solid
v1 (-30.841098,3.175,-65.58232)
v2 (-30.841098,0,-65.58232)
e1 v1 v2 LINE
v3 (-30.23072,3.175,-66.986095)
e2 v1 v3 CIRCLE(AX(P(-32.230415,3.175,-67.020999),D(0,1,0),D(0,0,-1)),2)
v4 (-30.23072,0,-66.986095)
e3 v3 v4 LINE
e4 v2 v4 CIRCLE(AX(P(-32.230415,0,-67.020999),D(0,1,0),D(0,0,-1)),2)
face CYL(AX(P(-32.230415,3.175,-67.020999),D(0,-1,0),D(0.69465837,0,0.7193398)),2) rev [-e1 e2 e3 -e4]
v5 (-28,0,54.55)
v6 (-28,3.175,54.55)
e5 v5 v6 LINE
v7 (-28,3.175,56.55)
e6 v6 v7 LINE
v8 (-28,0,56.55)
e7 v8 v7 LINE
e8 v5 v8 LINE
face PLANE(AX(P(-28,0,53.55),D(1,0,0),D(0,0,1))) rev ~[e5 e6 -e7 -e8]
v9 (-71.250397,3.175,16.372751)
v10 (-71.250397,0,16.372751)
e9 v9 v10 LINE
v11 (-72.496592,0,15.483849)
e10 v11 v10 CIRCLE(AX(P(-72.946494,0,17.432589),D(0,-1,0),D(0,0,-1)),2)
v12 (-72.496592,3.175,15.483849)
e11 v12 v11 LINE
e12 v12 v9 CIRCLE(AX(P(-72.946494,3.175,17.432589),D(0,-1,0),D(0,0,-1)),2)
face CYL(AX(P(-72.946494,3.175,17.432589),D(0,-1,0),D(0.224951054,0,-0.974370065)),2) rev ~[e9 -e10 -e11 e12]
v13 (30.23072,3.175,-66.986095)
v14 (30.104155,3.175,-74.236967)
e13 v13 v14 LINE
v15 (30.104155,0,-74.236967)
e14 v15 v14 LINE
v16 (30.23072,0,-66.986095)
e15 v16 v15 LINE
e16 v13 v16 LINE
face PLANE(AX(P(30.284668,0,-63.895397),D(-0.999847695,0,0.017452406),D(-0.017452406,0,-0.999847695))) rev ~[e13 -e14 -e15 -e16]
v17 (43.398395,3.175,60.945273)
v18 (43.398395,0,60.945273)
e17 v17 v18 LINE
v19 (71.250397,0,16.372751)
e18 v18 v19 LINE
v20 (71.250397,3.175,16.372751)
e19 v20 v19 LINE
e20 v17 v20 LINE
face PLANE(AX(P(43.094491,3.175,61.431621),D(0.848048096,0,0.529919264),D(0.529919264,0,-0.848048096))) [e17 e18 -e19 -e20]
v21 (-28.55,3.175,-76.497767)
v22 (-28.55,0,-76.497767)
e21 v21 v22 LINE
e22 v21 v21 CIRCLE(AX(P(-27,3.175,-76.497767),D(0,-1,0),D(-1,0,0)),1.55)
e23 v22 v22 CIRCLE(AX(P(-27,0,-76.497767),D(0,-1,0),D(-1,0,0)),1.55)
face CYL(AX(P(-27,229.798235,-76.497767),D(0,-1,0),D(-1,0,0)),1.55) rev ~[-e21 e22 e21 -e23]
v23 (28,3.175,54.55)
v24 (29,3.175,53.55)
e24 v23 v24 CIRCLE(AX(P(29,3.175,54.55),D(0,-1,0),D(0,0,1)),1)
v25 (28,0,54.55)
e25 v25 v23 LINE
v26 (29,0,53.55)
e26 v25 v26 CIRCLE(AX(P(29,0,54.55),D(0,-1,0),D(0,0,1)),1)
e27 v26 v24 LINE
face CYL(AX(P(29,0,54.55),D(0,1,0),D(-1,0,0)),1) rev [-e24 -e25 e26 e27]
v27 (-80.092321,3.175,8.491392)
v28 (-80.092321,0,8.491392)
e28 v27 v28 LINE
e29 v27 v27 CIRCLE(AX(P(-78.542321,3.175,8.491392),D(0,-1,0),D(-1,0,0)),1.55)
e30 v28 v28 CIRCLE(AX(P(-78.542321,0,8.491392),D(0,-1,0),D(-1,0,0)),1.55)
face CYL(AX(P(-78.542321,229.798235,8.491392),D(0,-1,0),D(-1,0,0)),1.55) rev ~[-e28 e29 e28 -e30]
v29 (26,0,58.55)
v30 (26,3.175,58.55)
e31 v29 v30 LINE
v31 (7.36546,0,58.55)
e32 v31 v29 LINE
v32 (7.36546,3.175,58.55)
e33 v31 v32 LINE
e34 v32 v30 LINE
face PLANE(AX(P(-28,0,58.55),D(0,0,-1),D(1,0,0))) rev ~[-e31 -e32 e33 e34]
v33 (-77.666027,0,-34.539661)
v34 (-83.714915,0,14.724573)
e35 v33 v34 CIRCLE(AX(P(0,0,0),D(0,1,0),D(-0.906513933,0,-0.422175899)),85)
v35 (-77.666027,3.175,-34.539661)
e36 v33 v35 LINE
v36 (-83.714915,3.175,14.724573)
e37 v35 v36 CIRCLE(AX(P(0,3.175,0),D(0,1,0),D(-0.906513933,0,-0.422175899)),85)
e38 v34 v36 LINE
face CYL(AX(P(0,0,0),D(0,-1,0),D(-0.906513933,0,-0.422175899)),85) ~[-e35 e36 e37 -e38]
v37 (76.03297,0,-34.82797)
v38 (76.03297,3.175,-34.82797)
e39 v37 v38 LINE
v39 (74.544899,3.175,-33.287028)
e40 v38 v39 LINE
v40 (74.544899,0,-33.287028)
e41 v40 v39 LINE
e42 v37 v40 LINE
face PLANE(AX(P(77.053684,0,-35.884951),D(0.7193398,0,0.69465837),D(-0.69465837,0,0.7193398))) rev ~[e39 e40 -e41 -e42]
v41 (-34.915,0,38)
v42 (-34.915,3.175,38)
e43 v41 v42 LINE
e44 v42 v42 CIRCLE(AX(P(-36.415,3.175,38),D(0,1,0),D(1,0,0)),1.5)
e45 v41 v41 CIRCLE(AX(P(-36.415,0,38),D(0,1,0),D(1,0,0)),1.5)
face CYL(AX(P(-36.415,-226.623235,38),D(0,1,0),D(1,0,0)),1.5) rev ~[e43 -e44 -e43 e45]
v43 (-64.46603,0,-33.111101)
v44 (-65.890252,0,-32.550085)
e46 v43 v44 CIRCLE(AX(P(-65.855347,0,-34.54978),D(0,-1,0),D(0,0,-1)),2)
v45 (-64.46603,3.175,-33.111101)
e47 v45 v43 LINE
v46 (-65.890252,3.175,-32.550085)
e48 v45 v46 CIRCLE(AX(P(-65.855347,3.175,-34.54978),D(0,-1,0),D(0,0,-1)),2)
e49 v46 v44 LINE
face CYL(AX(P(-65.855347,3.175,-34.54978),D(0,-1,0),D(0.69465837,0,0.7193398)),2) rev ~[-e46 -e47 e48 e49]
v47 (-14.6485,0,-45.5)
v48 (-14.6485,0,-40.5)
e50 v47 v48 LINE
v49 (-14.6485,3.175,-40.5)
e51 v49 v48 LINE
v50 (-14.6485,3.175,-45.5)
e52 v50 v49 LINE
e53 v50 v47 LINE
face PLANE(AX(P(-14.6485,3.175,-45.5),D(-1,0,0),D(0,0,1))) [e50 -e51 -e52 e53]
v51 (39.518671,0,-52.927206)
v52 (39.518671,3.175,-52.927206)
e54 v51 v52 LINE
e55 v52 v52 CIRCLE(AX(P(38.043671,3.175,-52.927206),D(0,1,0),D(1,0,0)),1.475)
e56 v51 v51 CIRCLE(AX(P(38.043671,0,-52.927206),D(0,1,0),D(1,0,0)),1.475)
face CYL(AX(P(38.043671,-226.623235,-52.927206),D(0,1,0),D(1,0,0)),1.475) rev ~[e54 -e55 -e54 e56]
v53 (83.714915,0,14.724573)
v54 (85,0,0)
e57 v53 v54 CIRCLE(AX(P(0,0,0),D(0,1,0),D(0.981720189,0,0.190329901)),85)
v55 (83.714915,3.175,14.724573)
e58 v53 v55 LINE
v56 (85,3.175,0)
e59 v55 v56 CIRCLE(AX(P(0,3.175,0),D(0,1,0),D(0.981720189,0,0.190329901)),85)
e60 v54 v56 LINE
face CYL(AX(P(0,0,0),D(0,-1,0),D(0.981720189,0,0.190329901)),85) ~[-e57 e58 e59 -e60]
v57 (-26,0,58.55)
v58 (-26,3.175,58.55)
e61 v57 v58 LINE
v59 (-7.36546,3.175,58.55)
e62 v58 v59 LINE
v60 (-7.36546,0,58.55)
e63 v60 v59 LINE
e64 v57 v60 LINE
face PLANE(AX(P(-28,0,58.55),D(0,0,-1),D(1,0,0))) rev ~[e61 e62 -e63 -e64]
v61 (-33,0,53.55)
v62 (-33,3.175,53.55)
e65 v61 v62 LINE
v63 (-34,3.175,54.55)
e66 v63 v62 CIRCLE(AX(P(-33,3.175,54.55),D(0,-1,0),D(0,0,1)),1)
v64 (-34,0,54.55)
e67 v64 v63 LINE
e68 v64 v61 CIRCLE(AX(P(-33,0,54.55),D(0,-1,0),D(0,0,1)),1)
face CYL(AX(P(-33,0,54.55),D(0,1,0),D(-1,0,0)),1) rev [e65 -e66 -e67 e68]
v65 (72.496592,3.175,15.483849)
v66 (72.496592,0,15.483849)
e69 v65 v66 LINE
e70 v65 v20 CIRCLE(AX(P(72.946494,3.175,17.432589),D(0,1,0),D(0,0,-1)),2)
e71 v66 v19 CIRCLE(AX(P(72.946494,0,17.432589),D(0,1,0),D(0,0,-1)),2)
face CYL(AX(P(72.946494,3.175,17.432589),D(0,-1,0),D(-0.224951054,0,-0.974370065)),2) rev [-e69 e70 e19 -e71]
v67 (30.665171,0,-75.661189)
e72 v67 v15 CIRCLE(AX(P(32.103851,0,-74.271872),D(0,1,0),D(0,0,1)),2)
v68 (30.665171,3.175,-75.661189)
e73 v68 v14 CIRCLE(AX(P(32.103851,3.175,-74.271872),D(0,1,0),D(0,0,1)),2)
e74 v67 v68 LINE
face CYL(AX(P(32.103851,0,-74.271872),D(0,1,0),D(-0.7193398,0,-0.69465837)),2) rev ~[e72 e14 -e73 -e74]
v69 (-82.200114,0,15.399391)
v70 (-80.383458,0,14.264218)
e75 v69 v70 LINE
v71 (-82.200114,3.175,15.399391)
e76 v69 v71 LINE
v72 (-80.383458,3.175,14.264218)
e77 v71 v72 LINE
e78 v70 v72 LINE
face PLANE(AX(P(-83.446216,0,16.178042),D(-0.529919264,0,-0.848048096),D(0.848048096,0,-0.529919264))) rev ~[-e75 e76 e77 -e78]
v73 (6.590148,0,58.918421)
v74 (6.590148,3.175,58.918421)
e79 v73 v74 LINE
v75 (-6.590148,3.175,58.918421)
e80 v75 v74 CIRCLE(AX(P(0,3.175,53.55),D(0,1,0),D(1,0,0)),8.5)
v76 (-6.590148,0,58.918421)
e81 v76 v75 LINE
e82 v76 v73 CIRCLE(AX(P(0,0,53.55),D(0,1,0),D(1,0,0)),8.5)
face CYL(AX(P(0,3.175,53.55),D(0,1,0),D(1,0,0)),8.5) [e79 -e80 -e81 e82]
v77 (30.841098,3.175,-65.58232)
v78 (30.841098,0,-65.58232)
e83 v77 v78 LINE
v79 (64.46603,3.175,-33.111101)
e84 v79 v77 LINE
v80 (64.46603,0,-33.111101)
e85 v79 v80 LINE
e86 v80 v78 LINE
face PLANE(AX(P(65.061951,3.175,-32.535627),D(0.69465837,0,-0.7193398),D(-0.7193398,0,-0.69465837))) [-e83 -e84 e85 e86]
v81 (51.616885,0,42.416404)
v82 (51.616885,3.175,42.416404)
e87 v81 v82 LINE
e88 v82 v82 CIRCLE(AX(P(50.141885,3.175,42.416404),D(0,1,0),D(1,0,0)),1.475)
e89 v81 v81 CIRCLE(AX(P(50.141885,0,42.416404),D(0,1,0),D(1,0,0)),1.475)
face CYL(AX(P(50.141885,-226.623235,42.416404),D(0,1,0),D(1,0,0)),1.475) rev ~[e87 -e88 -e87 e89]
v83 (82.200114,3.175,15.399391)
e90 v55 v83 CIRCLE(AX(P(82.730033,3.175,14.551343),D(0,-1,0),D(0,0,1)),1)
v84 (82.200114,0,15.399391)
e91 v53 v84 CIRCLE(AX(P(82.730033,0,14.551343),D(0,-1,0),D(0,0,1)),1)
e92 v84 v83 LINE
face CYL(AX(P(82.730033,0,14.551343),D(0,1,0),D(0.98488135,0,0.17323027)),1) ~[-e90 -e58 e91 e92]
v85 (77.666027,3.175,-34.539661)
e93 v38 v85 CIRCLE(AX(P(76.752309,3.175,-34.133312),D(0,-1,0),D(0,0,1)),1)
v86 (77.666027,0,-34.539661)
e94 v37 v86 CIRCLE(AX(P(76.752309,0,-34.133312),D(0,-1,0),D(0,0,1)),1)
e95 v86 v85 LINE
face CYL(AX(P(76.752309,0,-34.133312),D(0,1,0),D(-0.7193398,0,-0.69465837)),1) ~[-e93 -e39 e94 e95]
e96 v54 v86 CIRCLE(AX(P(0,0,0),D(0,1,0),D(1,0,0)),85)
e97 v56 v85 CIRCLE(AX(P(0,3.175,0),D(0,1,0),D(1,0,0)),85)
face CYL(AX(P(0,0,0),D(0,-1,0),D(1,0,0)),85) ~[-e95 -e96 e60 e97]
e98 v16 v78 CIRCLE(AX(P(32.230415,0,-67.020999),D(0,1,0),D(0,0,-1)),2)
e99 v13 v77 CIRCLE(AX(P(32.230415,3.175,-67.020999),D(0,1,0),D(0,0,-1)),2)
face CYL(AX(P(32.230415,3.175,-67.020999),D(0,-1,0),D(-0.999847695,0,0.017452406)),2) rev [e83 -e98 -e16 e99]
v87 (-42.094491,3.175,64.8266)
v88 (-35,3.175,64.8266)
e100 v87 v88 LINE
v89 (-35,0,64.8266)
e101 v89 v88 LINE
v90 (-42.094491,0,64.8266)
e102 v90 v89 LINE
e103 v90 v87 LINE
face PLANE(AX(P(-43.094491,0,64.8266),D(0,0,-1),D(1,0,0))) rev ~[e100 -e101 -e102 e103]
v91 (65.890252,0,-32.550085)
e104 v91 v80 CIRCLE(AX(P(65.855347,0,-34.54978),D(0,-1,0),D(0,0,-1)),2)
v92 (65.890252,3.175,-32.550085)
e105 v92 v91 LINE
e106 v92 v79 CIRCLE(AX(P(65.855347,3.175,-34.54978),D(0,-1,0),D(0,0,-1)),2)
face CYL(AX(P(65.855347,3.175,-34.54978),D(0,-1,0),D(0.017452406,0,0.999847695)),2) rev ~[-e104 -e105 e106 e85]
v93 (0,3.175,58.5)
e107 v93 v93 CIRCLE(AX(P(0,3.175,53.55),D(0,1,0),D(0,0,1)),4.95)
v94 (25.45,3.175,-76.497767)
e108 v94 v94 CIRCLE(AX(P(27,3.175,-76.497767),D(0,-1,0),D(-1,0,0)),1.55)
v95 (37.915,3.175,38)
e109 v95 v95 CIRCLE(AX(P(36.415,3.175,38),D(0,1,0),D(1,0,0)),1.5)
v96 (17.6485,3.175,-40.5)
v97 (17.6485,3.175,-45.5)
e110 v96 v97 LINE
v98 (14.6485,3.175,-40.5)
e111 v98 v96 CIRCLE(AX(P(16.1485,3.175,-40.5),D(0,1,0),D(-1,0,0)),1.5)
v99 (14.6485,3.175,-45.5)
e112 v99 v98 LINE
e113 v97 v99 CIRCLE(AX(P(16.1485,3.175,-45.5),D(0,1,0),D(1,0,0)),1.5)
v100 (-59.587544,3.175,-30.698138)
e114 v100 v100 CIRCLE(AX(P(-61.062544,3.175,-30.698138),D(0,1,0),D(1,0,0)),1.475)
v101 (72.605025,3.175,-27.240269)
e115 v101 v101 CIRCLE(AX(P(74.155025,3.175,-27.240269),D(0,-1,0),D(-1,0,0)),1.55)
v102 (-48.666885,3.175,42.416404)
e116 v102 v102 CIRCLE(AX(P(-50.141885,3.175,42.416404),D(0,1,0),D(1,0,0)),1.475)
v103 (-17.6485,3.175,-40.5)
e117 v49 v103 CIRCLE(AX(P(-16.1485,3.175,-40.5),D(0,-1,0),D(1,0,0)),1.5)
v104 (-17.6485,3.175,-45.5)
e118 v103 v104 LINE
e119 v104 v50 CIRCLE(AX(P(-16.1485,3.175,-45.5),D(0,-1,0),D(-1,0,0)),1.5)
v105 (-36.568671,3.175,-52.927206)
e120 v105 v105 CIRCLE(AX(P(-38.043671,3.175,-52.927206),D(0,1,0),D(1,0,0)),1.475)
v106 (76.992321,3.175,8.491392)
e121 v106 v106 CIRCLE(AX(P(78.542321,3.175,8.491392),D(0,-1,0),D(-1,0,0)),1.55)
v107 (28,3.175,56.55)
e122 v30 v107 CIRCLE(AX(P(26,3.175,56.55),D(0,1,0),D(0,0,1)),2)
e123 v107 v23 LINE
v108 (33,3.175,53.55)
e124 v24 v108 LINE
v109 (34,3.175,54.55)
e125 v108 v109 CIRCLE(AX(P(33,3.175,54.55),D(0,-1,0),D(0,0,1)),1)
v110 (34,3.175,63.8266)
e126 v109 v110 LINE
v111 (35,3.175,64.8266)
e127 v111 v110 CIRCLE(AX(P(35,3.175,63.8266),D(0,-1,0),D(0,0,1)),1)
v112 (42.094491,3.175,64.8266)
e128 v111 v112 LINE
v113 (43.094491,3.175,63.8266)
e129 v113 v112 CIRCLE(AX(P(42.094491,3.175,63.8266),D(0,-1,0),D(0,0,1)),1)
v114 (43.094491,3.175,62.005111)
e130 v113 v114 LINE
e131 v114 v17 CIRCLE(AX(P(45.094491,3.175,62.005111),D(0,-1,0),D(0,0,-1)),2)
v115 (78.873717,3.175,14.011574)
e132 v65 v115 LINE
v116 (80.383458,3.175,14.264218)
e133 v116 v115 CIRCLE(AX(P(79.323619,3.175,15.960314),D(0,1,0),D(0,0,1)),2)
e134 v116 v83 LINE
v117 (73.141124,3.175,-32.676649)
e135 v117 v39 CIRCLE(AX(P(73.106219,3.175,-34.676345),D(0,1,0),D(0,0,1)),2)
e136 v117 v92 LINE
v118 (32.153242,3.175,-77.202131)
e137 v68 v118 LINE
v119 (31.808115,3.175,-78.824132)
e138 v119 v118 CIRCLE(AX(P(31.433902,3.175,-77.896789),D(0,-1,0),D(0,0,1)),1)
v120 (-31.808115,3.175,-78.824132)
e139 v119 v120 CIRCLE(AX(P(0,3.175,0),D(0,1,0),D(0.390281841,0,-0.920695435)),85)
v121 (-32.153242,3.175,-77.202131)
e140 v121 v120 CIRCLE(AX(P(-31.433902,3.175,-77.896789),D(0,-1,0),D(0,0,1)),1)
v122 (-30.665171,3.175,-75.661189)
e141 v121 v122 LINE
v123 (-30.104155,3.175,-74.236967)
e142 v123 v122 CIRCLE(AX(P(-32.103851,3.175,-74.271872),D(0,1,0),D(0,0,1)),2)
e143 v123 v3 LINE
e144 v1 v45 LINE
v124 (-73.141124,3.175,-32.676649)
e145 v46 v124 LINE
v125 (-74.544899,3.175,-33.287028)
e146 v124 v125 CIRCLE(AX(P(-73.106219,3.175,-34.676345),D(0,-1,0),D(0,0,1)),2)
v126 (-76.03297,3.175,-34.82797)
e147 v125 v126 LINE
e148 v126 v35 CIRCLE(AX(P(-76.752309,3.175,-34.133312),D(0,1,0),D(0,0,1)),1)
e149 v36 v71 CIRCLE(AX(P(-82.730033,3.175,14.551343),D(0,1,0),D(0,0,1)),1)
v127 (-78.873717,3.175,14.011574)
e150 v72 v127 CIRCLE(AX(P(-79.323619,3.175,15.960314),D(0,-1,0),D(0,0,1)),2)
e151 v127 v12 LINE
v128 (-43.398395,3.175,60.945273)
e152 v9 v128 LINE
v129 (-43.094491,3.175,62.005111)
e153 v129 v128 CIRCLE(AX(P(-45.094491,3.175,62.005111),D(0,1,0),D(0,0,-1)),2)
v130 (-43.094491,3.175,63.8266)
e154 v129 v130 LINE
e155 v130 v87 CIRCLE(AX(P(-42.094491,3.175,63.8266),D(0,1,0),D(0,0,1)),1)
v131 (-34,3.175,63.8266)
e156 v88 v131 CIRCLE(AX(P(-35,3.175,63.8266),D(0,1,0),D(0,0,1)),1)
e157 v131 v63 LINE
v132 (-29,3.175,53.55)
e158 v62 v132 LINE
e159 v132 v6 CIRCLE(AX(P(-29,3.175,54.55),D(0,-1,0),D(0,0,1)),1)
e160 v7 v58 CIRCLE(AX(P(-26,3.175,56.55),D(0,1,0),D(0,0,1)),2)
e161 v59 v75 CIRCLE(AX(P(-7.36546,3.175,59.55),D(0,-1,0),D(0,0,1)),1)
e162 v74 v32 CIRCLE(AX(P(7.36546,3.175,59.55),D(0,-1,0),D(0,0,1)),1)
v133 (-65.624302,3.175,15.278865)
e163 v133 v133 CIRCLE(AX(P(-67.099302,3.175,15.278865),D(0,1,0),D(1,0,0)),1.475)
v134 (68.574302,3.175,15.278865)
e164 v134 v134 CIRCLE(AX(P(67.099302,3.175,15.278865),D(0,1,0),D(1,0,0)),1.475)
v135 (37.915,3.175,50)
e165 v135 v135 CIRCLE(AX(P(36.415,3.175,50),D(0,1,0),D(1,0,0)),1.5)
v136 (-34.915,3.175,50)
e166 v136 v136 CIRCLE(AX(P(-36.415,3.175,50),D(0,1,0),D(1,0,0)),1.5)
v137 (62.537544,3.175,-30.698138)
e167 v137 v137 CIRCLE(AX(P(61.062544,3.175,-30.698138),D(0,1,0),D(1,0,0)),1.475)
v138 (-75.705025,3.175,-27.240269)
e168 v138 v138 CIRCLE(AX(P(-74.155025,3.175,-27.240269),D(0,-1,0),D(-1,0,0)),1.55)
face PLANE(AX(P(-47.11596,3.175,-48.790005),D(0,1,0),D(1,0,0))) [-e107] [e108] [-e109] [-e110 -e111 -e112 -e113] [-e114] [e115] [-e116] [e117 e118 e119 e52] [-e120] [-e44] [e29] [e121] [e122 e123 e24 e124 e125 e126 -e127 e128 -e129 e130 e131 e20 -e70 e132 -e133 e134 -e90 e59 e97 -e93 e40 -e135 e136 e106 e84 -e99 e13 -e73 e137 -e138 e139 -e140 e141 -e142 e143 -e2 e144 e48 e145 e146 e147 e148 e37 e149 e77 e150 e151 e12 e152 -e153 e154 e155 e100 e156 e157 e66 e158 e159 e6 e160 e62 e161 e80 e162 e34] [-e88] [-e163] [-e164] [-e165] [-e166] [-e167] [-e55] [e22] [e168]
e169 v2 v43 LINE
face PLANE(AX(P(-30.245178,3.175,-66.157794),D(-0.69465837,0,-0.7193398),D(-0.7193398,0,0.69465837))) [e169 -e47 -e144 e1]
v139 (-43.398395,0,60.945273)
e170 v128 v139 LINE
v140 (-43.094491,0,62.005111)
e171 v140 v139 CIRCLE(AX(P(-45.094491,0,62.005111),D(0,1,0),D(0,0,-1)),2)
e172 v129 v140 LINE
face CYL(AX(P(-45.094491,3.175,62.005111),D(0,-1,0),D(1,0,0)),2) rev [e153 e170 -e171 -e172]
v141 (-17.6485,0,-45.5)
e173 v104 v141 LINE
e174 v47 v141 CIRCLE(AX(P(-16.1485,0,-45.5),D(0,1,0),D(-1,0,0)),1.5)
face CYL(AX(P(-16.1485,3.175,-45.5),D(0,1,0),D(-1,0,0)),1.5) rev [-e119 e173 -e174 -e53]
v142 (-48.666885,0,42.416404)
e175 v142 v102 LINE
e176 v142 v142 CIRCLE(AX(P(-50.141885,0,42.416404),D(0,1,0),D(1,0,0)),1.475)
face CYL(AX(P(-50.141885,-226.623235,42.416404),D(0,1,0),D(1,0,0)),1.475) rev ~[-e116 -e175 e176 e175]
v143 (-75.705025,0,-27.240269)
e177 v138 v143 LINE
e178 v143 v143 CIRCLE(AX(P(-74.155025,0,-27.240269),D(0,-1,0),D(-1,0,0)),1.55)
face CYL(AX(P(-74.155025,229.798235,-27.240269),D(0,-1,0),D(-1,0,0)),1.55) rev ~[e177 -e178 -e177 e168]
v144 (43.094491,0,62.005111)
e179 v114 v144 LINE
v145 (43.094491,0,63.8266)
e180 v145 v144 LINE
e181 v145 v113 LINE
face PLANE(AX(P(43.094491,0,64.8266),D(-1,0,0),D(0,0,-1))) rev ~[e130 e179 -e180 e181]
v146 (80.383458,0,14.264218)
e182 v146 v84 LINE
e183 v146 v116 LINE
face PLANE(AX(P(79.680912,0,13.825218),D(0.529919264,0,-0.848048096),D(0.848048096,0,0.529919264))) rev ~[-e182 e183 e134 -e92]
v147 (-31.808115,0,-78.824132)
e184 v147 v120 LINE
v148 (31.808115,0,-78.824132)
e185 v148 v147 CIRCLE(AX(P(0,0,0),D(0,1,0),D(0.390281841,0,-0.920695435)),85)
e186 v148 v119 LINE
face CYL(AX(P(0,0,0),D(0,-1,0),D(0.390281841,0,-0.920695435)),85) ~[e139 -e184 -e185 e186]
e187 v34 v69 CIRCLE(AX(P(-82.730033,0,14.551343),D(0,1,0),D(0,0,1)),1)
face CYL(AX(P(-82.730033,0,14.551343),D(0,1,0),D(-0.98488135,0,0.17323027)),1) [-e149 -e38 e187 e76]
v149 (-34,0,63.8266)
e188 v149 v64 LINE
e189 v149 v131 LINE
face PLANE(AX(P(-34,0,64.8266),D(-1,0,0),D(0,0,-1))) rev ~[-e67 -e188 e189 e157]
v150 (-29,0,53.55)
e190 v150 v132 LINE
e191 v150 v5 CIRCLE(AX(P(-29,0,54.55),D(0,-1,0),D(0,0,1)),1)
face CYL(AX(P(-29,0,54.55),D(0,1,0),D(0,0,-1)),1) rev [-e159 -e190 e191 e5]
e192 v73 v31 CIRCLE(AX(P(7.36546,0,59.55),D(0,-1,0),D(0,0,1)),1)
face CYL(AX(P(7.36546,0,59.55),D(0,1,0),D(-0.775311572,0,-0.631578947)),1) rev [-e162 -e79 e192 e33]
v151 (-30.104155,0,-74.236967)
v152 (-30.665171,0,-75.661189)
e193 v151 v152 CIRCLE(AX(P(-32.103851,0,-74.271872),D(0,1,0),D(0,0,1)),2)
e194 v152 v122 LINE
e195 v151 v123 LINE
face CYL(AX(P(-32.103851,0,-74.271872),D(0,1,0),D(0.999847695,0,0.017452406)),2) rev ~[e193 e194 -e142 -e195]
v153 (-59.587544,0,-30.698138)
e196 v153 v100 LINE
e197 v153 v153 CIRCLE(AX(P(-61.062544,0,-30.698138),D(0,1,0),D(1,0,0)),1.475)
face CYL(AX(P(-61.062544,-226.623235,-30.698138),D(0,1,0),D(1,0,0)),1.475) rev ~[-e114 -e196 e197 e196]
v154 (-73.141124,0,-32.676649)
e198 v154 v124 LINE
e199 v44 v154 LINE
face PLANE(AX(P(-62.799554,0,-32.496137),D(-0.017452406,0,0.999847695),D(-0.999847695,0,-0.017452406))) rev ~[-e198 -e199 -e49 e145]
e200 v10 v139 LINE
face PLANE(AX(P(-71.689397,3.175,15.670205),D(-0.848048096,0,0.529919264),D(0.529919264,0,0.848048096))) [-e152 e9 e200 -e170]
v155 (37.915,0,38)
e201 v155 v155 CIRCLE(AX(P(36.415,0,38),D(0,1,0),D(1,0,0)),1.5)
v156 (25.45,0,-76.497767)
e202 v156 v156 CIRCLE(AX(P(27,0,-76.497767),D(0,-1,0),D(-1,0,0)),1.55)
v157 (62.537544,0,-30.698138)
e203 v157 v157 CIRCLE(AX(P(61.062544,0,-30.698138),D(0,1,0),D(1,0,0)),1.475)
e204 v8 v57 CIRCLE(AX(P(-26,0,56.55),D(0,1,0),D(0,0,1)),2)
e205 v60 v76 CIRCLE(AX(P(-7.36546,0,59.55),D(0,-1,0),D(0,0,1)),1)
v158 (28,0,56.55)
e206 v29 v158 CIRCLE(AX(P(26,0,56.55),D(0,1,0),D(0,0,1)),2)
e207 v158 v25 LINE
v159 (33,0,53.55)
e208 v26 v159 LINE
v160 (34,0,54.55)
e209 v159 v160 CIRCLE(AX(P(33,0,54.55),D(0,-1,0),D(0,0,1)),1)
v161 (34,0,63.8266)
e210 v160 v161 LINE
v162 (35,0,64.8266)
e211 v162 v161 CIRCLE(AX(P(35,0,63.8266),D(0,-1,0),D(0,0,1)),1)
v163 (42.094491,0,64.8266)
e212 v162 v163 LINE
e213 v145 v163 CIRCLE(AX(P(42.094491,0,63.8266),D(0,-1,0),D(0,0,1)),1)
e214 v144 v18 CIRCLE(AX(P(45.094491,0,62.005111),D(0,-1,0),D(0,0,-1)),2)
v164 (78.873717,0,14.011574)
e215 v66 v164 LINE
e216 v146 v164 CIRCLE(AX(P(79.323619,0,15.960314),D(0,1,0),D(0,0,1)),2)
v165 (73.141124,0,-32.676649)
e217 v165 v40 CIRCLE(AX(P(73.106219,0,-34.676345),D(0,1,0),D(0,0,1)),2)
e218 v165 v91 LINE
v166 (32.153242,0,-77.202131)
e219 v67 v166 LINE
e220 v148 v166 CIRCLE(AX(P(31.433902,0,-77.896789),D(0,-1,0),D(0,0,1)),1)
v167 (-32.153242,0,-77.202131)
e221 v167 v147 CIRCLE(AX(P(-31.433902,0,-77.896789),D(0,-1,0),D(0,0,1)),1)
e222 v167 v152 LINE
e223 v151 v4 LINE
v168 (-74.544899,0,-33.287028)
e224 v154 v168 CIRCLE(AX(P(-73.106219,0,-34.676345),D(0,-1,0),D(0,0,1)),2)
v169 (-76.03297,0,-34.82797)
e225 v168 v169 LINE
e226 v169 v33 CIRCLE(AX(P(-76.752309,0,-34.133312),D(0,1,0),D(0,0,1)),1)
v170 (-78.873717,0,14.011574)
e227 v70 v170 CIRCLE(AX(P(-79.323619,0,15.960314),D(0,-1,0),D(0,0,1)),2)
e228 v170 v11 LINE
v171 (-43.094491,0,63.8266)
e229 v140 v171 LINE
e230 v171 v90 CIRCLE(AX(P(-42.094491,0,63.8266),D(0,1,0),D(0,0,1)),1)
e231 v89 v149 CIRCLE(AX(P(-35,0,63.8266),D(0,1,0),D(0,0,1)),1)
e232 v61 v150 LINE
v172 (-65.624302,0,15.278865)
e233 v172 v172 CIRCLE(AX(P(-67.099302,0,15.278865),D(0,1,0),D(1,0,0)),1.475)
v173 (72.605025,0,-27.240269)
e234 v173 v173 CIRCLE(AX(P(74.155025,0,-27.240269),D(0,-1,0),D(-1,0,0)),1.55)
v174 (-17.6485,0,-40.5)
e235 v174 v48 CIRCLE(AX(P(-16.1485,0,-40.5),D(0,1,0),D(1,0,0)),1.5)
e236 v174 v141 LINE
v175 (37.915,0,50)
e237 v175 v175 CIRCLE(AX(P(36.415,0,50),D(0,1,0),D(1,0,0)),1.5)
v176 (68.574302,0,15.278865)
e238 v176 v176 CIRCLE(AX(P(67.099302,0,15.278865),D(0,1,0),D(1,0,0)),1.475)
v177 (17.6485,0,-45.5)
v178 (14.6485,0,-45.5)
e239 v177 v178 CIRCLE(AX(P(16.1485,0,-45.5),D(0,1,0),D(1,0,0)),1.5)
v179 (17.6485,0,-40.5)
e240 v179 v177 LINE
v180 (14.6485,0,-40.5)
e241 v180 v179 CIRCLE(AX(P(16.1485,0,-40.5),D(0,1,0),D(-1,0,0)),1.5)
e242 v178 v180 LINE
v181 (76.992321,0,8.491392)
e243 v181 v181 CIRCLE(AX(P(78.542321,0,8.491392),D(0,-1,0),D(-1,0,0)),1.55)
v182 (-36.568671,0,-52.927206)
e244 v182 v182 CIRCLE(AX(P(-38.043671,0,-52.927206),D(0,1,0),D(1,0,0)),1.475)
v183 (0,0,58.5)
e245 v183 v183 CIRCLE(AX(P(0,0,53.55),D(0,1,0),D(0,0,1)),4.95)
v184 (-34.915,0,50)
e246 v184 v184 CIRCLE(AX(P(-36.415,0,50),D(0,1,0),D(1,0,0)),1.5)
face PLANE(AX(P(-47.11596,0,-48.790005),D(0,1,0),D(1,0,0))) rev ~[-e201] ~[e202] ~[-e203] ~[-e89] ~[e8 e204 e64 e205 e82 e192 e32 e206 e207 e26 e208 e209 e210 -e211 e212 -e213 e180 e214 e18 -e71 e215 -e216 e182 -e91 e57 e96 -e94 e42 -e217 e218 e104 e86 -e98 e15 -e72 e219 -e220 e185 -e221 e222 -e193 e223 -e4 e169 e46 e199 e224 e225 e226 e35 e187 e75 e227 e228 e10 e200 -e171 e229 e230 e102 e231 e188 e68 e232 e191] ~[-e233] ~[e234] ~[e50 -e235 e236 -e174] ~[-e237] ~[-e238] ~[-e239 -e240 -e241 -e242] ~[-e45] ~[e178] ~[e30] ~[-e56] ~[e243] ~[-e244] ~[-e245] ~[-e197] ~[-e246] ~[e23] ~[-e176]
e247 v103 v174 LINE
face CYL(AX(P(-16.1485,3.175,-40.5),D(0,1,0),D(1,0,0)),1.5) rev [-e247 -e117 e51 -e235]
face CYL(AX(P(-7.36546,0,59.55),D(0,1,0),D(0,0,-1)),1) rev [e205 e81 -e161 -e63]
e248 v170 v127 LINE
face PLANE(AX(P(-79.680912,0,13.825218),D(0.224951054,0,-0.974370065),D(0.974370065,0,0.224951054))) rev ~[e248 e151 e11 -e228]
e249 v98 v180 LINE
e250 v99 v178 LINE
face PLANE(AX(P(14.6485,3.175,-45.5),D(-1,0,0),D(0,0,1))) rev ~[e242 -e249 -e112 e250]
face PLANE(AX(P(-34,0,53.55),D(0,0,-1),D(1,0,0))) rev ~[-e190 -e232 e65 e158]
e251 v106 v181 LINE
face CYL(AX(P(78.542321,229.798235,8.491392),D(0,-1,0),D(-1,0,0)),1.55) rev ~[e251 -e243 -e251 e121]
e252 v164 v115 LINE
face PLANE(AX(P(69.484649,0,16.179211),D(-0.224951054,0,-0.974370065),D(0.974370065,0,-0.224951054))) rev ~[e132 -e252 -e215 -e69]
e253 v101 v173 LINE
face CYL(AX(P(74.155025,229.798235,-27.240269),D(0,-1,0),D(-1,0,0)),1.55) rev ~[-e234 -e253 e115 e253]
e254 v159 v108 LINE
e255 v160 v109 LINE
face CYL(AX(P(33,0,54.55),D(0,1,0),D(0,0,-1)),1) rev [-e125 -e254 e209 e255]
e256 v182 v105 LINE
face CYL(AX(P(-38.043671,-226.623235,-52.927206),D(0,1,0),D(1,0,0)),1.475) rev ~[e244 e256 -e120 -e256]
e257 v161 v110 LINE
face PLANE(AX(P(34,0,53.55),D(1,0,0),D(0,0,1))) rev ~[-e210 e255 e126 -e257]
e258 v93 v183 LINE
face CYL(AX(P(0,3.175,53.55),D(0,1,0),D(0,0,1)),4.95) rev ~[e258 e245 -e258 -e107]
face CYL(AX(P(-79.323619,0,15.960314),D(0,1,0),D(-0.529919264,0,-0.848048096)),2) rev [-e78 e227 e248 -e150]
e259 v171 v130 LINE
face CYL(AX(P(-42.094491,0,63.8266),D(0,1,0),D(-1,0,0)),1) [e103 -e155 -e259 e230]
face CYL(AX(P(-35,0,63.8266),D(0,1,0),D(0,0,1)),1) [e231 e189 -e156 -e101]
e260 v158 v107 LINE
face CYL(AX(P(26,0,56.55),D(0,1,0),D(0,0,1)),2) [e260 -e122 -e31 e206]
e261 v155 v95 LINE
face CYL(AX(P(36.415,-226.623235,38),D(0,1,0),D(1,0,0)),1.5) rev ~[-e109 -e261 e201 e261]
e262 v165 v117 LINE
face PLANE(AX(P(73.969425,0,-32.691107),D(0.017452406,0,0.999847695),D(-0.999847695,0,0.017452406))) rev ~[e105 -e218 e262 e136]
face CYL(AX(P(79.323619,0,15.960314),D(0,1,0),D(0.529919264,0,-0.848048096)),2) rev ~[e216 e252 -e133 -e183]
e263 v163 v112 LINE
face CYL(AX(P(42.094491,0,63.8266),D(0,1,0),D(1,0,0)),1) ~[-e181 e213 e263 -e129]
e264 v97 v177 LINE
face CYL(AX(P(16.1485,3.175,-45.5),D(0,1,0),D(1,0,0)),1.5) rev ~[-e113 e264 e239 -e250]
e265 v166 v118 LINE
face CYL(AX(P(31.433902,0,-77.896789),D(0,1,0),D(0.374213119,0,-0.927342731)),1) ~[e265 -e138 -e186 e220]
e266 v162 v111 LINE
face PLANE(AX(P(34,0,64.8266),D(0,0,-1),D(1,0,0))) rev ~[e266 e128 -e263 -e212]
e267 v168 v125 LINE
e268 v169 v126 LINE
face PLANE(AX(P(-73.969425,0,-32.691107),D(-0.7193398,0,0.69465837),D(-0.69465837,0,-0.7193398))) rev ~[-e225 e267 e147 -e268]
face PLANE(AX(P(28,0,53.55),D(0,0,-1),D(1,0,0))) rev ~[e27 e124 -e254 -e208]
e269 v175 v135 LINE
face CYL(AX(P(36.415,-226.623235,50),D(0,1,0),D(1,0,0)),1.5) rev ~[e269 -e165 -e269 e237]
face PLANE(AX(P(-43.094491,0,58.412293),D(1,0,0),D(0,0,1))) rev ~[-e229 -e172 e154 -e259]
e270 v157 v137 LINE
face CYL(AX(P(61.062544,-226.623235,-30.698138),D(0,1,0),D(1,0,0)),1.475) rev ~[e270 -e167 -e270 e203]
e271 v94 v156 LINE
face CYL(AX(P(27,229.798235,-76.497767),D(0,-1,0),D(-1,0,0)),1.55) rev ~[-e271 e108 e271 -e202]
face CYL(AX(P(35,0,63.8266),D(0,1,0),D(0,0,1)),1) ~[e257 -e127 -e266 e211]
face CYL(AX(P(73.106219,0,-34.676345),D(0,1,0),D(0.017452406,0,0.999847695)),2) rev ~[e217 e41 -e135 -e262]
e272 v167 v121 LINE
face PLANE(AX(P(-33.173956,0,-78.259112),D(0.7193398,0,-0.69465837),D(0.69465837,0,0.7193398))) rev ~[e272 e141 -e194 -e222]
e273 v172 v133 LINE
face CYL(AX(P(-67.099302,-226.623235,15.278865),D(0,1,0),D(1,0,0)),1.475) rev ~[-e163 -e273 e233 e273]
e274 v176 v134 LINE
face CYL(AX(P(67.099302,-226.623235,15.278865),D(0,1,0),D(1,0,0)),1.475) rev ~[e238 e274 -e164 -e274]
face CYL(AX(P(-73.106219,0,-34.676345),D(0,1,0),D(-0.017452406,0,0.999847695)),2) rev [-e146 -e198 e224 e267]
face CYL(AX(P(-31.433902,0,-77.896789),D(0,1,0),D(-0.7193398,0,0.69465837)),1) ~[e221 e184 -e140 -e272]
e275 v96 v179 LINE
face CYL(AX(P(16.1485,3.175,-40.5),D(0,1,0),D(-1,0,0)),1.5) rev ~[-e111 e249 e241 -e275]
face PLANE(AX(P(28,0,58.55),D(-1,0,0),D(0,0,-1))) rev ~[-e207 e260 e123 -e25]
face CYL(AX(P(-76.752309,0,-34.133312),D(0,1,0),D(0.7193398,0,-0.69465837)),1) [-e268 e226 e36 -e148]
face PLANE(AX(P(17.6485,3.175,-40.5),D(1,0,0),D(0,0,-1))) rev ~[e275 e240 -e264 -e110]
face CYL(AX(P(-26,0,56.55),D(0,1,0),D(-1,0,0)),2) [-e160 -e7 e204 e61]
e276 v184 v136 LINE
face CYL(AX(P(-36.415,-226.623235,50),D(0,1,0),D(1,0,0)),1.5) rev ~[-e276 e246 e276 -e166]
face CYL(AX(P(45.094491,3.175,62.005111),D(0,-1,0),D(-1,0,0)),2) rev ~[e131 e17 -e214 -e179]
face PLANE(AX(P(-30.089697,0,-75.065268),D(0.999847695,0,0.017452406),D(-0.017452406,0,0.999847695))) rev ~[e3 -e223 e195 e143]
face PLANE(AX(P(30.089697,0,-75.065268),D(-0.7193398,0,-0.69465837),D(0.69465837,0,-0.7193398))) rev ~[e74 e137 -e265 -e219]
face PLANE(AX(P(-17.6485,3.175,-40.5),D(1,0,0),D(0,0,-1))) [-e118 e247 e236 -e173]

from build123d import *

# Parameters (mm, degrees)
BOSS_EXTRUDE4_DEPTH  = 3.175
SKETCH17_R           = 8.5
BOSS_EXTRUDE5_DEPTH  = 3.175
M3_CLEARANCE_HOLE3_D = 3
M3_CLEARANCE_HOLE1_D = 3.1
M3_CLEARANCE_HOLE4_D = 2.95
M3_CLEARANCE_HOLE2_D = 3.1
CUT_EXTRUDE1_DEPTH   = 121.250075364
BOSS_EXTRUDE6_DEPTH  = 3.175
FILLET1_R            = 2
FILLET3_R            = 1
SKETCH23_R           = 4.95
CUT_EXTRUDE2_DEPTH   = 121.250075364


with BuildPart() as part:
    # Sketch1 → Boss-Extrude4 (new body)
    with BuildSketch(Plane(origin=(0, 0, 0), x_dir=(1, 0, 0), z_dir=(0, 1, 0))):
        with BuildLine():
            Line((-62.799553621, 32.496136604), (-73.969425011, 32.691107434))
            Line((-73.969425011, 32.691107434), (-77.053684287, 35.88495141))
            ThreePointArc((-77.053684287, 35.88495141), (-84.36642289, 10.358894189), (-83.446216027, -16.178041625))
            Line((-83.446216027, -16.178041625), (-79.680911643, -13.825218315))
            Line((-79.680911643, -13.825218315), (-69.484649137, -16.179210996))
            Line((-69.484649137, -16.179210996), (-43.094490772, -58.412292655))
            Line((-43.094490772, -58.412292655), (-43.094490772, -64.826600275))
            Line((-43.094490772, -64.826600275), (-34, -64.826600275))
            Line((-34, -64.826600275), (-34, -58.55))
            Line((-34, -58.55), (-34, -53.55))
            Line((-34, -53.55), (-28, -53.55))
            Line((-28, -53.55), (-28, -58.55))
            Line((-28, -58.55), (28, -58.55))
            Line((28, -58.55), (28, -53.55))
            Line((28, -53.55), (34, -53.55))
            Line((34, -53.55), (34, -58.55))
            Line((34, -58.55), (34, -64.826600275))
            Line((34, -64.826600275), (43.094490772, -64.826600275))
            Line((43.094490772, -64.826600275), (43.094490772, -58.412292655))
            Line((43.094490772, -58.412292655), (69.484649137, -16.179210996))
            Line((69.484649137, -16.179210996), (79.680911643, -13.825218315))
            Line((79.680911643, -13.825218315), (83.446216027, -16.178041625))
            ThreePointArc((83.446216027, -16.178041625), (84.610662337, -8.126242604), (85, 0))
            ThreePointArc((85, 0), (82.98964744, 18.377116688), (77.053684287, 35.88495141))
            Line((77.053684287, 35.88495141), (73.969425011, 32.691107434))
            Line((73.969425011, 32.691107434), (62.799553621, 32.496136604))
            Line((62.799553621, 32.496136604), (30.284668021, 63.895396642))
            Line((30.284668021, 63.895396642), (30.089697191, 75.065268032))
            Line((30.089697191, 75.065268032), (33.173956467, 78.259112008))
            ThreePointArc((33.173956467, 78.259112008), (0, 85), (-33.173956467, 78.259112008))
            Line((-33.173956467, 78.259112008), (-30.089697191, 75.065268032))
            Line((-30.089697191, 75.065268032), (-30.284668021, 63.895396642))
            Line((-30.284668021, 63.895396642), (-62.799553621, 32.496136604))
        make_face()
    extrude(amount=BOSS_EXTRUDE4_DEPTH)

    # Sketch17 → Boss-Extrude5 (add)
    with BuildSketch(Plane(origin=(0, 3.175, 0), x_dir=(1, 0, 0), z_dir=(0, 1, 0))):
        with Locations((0, -53.55)):
            Circle(SKETCH17_R)
    extrude(amount=-BOSS_EXTRUDE5_DEPTH)

    # M3 Clearance Hole3 (through all)
    with Locations(Plane(origin=(0, 0, 0), x_dir=(-1, 0, 0), z_dir=(0, -1, 0))):
        with Locations((36.415, -50), (36.415, -38), (-36.415, -50), (-36.415, -38)):
            Hole(M3_CLEARANCE_HOLE3_D / 2)

    # M3 Clearance Hole1 (through all)
    with Locations(Plane(origin=(0, 3.175, 0), x_dir=(1, 0, 0), z_dir=(0, 1, 0))):
        with Locations((-78.542321426, -8.49139241), (78.542321426, -8.49139241), (74.155025063, 27.240269049), (-74.155025063, 27.240269049)):
            Hole(M3_CLEARANCE_HOLE1_D / 2)

    # M3 Clearance Hole4 (through all)
    with Locations(Plane(origin=(0, 0, 0), x_dir=(-1, 0, 0), z_dir=(0, -1, 0))):
        with Locations((-67.099301622, -15.278865202), (-50.141885166, -42.416404279), (-61.062544382, 30.698137949), (-38.043670771, 52.927205804), (50.141885166, -42.416404279), (67.099301622, -15.278865202), (38.043670771, 52.927205804), (61.062544382, 30.698137949)):
            Hole(M3_CLEARANCE_HOLE4_D / 2)

    # M3 Clearance Hole2 (through all)
    with Locations(Plane(origin=(0, 3.175, 0), x_dir=(1, 0, 0), z_dir=(0, 1, 0))):
        with Locations((27, 76.497766718), (-27, 76.497766718)):
            Hole(M3_CLEARANCE_HOLE2_D / 2)

    # Sketch20 → Cut-Extrude1 (cut, through all)
    with BuildSketch(Plane(origin=(0, 3.175, 0), x_dir=(1, 0, 0), z_dir=(0, 1, 0))):
        with BuildLine():
            Line((-14.64850035, 45.5), (-14.64850035, 40.5))
            ThreePointArc((-14.64850035, 40.5), (-16.14850035, 39), (-17.64850035, 40.5))
            Line((-17.64850035, 40.5), (-17.64850035, 45.5))
            ThreePointArc((-17.64850035, 45.5), (-16.14850035, 47), (-14.64850035, 45.5))
        make_face()
        with BuildLine():
            Line((14.64850035, 45.5), (14.64850035, 40.5))
            ThreePointArc((14.64850035, 40.5), (16.14850035, 39), (17.64850035, 40.5))
            Line((17.64850035, 40.5), (17.64850035, 45.5))
            ThreePointArc((17.64850035, 45.5), (16.14850035, 47), (14.64850035, 45.5))
        make_face()
    extrude(amount=-CUT_EXTRUDE1_DEPTH, mode=Mode.SUBTRACT)

    # Sketch22 → Boss-Extrude6 (add)
    with BuildSketch(Plane(origin=(0, 3.175, 0), x_dir=(1, 0, 0), z_dir=(0, 1, 0))):
        Polygon((-30.284668021, 63.895396642), (-30.245177733, 66.157793715), (-65.061950694, 32.535626892), (-62.799553621, 32.496136604), align=None)
        Polygon((-69.484649137, -16.179210996), (-71.689396914, -15.670204865), (-43.094490772, -61.431620518), (-43.094490772, -58.412292655), align=None)
        Polygon((43.094490772, -61.431620518), (71.689396914, -15.670204865), (69.484649137, -16.179210996), (43.094490772, -58.412292655), align=None)
        Polygon((65.061950694, 32.535626892), (30.245177733, 66.157793715), (30.284668021, 63.895396642), (62.799553621, 32.496136604), align=None)
    extrude(amount=-BOSS_EXTRUDE6_DEPTH)

    # Fillet1
    fillet1_edges = [part.edges().sort_by_distance(p)[0] for p in [
        (-30.245177733, 1.5875, -66.157793715),
        (-65.061950694, 1.5875, -32.535626892),
        (-71.689396914, 1.5875, 15.670204865),
        (-43.094490772, 1.5875, 61.431620518),
        (43.094490772, 1.5875, 61.431620518),
        (71.689396914, 1.5875, 15.670204865),
        (65.061950694, 1.5875, -32.535626892),
        (30.245177733, 1.5875, -66.157793715),
        (30.089697191, 1.5875, -75.065268032),
        (73.969425011, 1.5875, -32.691107434),
        (79.680911643, 1.5875, 13.825218315),
        (28, 1.5875, 58.55),
        (-28, 1.5875, 58.55),
        (-79.680911643, 1.5875, 13.825218315),
        (-73.969425011, 1.5875, -32.691107434),
        (-30.089697191, 1.5875, -75.065268032),
    ]]
    fillet(fillet1_edges, radius=FILLET1_R)

    # Fillet3
    fillet3_edges = [part.edges().sort_by_distance(p)[0] for p in [
        (33.173956467, 1.5875, -78.259112008),
        (77.053684287, 1.5875, -35.88495141),
        (83.446216027, 1.5875, 16.178041625),
        (43.094490772, 1.5875, 64.826600275),
        (34, 1.5875, 64.826600275),
        (34, 1.5875, 53.55),
        (28, 1.5875, 53.55),
        (-28, 1.5875, 53.55),
        (-34, 1.5875, 53.55),
        (-34, 1.5875, 64.826600275),
        (-43.094490772, 1.5875, 64.826600275),
        (-83.446216027, 1.5875, 16.178041625),
        (-77.053684287, 1.5875, -35.88495141),
        (-33.173956467, 1.5875, -78.259112008),
        (-6.873863542, 1.5875, 58.55),
        (6.873863542, 1.5875, 58.55),
    ]]
    fillet(fillet3_edges, radius=FILLET3_R)

    # Sketch23 → Cut-Extrude2 (cut, through all)
    with BuildSketch(Plane(origin=(0, 3.175, 0), x_dir=(1, 0, 0), z_dir=(0, 1, 0))):
        with Locations(Location((0, -53.55, 0), (0, 0, 270))):
            Circle(SKETCH23_R)
    extrude(amount=-CUT_EXTRUDE2_DEPTH, mode=Mode.SUBTRACT)


solid = part.part
